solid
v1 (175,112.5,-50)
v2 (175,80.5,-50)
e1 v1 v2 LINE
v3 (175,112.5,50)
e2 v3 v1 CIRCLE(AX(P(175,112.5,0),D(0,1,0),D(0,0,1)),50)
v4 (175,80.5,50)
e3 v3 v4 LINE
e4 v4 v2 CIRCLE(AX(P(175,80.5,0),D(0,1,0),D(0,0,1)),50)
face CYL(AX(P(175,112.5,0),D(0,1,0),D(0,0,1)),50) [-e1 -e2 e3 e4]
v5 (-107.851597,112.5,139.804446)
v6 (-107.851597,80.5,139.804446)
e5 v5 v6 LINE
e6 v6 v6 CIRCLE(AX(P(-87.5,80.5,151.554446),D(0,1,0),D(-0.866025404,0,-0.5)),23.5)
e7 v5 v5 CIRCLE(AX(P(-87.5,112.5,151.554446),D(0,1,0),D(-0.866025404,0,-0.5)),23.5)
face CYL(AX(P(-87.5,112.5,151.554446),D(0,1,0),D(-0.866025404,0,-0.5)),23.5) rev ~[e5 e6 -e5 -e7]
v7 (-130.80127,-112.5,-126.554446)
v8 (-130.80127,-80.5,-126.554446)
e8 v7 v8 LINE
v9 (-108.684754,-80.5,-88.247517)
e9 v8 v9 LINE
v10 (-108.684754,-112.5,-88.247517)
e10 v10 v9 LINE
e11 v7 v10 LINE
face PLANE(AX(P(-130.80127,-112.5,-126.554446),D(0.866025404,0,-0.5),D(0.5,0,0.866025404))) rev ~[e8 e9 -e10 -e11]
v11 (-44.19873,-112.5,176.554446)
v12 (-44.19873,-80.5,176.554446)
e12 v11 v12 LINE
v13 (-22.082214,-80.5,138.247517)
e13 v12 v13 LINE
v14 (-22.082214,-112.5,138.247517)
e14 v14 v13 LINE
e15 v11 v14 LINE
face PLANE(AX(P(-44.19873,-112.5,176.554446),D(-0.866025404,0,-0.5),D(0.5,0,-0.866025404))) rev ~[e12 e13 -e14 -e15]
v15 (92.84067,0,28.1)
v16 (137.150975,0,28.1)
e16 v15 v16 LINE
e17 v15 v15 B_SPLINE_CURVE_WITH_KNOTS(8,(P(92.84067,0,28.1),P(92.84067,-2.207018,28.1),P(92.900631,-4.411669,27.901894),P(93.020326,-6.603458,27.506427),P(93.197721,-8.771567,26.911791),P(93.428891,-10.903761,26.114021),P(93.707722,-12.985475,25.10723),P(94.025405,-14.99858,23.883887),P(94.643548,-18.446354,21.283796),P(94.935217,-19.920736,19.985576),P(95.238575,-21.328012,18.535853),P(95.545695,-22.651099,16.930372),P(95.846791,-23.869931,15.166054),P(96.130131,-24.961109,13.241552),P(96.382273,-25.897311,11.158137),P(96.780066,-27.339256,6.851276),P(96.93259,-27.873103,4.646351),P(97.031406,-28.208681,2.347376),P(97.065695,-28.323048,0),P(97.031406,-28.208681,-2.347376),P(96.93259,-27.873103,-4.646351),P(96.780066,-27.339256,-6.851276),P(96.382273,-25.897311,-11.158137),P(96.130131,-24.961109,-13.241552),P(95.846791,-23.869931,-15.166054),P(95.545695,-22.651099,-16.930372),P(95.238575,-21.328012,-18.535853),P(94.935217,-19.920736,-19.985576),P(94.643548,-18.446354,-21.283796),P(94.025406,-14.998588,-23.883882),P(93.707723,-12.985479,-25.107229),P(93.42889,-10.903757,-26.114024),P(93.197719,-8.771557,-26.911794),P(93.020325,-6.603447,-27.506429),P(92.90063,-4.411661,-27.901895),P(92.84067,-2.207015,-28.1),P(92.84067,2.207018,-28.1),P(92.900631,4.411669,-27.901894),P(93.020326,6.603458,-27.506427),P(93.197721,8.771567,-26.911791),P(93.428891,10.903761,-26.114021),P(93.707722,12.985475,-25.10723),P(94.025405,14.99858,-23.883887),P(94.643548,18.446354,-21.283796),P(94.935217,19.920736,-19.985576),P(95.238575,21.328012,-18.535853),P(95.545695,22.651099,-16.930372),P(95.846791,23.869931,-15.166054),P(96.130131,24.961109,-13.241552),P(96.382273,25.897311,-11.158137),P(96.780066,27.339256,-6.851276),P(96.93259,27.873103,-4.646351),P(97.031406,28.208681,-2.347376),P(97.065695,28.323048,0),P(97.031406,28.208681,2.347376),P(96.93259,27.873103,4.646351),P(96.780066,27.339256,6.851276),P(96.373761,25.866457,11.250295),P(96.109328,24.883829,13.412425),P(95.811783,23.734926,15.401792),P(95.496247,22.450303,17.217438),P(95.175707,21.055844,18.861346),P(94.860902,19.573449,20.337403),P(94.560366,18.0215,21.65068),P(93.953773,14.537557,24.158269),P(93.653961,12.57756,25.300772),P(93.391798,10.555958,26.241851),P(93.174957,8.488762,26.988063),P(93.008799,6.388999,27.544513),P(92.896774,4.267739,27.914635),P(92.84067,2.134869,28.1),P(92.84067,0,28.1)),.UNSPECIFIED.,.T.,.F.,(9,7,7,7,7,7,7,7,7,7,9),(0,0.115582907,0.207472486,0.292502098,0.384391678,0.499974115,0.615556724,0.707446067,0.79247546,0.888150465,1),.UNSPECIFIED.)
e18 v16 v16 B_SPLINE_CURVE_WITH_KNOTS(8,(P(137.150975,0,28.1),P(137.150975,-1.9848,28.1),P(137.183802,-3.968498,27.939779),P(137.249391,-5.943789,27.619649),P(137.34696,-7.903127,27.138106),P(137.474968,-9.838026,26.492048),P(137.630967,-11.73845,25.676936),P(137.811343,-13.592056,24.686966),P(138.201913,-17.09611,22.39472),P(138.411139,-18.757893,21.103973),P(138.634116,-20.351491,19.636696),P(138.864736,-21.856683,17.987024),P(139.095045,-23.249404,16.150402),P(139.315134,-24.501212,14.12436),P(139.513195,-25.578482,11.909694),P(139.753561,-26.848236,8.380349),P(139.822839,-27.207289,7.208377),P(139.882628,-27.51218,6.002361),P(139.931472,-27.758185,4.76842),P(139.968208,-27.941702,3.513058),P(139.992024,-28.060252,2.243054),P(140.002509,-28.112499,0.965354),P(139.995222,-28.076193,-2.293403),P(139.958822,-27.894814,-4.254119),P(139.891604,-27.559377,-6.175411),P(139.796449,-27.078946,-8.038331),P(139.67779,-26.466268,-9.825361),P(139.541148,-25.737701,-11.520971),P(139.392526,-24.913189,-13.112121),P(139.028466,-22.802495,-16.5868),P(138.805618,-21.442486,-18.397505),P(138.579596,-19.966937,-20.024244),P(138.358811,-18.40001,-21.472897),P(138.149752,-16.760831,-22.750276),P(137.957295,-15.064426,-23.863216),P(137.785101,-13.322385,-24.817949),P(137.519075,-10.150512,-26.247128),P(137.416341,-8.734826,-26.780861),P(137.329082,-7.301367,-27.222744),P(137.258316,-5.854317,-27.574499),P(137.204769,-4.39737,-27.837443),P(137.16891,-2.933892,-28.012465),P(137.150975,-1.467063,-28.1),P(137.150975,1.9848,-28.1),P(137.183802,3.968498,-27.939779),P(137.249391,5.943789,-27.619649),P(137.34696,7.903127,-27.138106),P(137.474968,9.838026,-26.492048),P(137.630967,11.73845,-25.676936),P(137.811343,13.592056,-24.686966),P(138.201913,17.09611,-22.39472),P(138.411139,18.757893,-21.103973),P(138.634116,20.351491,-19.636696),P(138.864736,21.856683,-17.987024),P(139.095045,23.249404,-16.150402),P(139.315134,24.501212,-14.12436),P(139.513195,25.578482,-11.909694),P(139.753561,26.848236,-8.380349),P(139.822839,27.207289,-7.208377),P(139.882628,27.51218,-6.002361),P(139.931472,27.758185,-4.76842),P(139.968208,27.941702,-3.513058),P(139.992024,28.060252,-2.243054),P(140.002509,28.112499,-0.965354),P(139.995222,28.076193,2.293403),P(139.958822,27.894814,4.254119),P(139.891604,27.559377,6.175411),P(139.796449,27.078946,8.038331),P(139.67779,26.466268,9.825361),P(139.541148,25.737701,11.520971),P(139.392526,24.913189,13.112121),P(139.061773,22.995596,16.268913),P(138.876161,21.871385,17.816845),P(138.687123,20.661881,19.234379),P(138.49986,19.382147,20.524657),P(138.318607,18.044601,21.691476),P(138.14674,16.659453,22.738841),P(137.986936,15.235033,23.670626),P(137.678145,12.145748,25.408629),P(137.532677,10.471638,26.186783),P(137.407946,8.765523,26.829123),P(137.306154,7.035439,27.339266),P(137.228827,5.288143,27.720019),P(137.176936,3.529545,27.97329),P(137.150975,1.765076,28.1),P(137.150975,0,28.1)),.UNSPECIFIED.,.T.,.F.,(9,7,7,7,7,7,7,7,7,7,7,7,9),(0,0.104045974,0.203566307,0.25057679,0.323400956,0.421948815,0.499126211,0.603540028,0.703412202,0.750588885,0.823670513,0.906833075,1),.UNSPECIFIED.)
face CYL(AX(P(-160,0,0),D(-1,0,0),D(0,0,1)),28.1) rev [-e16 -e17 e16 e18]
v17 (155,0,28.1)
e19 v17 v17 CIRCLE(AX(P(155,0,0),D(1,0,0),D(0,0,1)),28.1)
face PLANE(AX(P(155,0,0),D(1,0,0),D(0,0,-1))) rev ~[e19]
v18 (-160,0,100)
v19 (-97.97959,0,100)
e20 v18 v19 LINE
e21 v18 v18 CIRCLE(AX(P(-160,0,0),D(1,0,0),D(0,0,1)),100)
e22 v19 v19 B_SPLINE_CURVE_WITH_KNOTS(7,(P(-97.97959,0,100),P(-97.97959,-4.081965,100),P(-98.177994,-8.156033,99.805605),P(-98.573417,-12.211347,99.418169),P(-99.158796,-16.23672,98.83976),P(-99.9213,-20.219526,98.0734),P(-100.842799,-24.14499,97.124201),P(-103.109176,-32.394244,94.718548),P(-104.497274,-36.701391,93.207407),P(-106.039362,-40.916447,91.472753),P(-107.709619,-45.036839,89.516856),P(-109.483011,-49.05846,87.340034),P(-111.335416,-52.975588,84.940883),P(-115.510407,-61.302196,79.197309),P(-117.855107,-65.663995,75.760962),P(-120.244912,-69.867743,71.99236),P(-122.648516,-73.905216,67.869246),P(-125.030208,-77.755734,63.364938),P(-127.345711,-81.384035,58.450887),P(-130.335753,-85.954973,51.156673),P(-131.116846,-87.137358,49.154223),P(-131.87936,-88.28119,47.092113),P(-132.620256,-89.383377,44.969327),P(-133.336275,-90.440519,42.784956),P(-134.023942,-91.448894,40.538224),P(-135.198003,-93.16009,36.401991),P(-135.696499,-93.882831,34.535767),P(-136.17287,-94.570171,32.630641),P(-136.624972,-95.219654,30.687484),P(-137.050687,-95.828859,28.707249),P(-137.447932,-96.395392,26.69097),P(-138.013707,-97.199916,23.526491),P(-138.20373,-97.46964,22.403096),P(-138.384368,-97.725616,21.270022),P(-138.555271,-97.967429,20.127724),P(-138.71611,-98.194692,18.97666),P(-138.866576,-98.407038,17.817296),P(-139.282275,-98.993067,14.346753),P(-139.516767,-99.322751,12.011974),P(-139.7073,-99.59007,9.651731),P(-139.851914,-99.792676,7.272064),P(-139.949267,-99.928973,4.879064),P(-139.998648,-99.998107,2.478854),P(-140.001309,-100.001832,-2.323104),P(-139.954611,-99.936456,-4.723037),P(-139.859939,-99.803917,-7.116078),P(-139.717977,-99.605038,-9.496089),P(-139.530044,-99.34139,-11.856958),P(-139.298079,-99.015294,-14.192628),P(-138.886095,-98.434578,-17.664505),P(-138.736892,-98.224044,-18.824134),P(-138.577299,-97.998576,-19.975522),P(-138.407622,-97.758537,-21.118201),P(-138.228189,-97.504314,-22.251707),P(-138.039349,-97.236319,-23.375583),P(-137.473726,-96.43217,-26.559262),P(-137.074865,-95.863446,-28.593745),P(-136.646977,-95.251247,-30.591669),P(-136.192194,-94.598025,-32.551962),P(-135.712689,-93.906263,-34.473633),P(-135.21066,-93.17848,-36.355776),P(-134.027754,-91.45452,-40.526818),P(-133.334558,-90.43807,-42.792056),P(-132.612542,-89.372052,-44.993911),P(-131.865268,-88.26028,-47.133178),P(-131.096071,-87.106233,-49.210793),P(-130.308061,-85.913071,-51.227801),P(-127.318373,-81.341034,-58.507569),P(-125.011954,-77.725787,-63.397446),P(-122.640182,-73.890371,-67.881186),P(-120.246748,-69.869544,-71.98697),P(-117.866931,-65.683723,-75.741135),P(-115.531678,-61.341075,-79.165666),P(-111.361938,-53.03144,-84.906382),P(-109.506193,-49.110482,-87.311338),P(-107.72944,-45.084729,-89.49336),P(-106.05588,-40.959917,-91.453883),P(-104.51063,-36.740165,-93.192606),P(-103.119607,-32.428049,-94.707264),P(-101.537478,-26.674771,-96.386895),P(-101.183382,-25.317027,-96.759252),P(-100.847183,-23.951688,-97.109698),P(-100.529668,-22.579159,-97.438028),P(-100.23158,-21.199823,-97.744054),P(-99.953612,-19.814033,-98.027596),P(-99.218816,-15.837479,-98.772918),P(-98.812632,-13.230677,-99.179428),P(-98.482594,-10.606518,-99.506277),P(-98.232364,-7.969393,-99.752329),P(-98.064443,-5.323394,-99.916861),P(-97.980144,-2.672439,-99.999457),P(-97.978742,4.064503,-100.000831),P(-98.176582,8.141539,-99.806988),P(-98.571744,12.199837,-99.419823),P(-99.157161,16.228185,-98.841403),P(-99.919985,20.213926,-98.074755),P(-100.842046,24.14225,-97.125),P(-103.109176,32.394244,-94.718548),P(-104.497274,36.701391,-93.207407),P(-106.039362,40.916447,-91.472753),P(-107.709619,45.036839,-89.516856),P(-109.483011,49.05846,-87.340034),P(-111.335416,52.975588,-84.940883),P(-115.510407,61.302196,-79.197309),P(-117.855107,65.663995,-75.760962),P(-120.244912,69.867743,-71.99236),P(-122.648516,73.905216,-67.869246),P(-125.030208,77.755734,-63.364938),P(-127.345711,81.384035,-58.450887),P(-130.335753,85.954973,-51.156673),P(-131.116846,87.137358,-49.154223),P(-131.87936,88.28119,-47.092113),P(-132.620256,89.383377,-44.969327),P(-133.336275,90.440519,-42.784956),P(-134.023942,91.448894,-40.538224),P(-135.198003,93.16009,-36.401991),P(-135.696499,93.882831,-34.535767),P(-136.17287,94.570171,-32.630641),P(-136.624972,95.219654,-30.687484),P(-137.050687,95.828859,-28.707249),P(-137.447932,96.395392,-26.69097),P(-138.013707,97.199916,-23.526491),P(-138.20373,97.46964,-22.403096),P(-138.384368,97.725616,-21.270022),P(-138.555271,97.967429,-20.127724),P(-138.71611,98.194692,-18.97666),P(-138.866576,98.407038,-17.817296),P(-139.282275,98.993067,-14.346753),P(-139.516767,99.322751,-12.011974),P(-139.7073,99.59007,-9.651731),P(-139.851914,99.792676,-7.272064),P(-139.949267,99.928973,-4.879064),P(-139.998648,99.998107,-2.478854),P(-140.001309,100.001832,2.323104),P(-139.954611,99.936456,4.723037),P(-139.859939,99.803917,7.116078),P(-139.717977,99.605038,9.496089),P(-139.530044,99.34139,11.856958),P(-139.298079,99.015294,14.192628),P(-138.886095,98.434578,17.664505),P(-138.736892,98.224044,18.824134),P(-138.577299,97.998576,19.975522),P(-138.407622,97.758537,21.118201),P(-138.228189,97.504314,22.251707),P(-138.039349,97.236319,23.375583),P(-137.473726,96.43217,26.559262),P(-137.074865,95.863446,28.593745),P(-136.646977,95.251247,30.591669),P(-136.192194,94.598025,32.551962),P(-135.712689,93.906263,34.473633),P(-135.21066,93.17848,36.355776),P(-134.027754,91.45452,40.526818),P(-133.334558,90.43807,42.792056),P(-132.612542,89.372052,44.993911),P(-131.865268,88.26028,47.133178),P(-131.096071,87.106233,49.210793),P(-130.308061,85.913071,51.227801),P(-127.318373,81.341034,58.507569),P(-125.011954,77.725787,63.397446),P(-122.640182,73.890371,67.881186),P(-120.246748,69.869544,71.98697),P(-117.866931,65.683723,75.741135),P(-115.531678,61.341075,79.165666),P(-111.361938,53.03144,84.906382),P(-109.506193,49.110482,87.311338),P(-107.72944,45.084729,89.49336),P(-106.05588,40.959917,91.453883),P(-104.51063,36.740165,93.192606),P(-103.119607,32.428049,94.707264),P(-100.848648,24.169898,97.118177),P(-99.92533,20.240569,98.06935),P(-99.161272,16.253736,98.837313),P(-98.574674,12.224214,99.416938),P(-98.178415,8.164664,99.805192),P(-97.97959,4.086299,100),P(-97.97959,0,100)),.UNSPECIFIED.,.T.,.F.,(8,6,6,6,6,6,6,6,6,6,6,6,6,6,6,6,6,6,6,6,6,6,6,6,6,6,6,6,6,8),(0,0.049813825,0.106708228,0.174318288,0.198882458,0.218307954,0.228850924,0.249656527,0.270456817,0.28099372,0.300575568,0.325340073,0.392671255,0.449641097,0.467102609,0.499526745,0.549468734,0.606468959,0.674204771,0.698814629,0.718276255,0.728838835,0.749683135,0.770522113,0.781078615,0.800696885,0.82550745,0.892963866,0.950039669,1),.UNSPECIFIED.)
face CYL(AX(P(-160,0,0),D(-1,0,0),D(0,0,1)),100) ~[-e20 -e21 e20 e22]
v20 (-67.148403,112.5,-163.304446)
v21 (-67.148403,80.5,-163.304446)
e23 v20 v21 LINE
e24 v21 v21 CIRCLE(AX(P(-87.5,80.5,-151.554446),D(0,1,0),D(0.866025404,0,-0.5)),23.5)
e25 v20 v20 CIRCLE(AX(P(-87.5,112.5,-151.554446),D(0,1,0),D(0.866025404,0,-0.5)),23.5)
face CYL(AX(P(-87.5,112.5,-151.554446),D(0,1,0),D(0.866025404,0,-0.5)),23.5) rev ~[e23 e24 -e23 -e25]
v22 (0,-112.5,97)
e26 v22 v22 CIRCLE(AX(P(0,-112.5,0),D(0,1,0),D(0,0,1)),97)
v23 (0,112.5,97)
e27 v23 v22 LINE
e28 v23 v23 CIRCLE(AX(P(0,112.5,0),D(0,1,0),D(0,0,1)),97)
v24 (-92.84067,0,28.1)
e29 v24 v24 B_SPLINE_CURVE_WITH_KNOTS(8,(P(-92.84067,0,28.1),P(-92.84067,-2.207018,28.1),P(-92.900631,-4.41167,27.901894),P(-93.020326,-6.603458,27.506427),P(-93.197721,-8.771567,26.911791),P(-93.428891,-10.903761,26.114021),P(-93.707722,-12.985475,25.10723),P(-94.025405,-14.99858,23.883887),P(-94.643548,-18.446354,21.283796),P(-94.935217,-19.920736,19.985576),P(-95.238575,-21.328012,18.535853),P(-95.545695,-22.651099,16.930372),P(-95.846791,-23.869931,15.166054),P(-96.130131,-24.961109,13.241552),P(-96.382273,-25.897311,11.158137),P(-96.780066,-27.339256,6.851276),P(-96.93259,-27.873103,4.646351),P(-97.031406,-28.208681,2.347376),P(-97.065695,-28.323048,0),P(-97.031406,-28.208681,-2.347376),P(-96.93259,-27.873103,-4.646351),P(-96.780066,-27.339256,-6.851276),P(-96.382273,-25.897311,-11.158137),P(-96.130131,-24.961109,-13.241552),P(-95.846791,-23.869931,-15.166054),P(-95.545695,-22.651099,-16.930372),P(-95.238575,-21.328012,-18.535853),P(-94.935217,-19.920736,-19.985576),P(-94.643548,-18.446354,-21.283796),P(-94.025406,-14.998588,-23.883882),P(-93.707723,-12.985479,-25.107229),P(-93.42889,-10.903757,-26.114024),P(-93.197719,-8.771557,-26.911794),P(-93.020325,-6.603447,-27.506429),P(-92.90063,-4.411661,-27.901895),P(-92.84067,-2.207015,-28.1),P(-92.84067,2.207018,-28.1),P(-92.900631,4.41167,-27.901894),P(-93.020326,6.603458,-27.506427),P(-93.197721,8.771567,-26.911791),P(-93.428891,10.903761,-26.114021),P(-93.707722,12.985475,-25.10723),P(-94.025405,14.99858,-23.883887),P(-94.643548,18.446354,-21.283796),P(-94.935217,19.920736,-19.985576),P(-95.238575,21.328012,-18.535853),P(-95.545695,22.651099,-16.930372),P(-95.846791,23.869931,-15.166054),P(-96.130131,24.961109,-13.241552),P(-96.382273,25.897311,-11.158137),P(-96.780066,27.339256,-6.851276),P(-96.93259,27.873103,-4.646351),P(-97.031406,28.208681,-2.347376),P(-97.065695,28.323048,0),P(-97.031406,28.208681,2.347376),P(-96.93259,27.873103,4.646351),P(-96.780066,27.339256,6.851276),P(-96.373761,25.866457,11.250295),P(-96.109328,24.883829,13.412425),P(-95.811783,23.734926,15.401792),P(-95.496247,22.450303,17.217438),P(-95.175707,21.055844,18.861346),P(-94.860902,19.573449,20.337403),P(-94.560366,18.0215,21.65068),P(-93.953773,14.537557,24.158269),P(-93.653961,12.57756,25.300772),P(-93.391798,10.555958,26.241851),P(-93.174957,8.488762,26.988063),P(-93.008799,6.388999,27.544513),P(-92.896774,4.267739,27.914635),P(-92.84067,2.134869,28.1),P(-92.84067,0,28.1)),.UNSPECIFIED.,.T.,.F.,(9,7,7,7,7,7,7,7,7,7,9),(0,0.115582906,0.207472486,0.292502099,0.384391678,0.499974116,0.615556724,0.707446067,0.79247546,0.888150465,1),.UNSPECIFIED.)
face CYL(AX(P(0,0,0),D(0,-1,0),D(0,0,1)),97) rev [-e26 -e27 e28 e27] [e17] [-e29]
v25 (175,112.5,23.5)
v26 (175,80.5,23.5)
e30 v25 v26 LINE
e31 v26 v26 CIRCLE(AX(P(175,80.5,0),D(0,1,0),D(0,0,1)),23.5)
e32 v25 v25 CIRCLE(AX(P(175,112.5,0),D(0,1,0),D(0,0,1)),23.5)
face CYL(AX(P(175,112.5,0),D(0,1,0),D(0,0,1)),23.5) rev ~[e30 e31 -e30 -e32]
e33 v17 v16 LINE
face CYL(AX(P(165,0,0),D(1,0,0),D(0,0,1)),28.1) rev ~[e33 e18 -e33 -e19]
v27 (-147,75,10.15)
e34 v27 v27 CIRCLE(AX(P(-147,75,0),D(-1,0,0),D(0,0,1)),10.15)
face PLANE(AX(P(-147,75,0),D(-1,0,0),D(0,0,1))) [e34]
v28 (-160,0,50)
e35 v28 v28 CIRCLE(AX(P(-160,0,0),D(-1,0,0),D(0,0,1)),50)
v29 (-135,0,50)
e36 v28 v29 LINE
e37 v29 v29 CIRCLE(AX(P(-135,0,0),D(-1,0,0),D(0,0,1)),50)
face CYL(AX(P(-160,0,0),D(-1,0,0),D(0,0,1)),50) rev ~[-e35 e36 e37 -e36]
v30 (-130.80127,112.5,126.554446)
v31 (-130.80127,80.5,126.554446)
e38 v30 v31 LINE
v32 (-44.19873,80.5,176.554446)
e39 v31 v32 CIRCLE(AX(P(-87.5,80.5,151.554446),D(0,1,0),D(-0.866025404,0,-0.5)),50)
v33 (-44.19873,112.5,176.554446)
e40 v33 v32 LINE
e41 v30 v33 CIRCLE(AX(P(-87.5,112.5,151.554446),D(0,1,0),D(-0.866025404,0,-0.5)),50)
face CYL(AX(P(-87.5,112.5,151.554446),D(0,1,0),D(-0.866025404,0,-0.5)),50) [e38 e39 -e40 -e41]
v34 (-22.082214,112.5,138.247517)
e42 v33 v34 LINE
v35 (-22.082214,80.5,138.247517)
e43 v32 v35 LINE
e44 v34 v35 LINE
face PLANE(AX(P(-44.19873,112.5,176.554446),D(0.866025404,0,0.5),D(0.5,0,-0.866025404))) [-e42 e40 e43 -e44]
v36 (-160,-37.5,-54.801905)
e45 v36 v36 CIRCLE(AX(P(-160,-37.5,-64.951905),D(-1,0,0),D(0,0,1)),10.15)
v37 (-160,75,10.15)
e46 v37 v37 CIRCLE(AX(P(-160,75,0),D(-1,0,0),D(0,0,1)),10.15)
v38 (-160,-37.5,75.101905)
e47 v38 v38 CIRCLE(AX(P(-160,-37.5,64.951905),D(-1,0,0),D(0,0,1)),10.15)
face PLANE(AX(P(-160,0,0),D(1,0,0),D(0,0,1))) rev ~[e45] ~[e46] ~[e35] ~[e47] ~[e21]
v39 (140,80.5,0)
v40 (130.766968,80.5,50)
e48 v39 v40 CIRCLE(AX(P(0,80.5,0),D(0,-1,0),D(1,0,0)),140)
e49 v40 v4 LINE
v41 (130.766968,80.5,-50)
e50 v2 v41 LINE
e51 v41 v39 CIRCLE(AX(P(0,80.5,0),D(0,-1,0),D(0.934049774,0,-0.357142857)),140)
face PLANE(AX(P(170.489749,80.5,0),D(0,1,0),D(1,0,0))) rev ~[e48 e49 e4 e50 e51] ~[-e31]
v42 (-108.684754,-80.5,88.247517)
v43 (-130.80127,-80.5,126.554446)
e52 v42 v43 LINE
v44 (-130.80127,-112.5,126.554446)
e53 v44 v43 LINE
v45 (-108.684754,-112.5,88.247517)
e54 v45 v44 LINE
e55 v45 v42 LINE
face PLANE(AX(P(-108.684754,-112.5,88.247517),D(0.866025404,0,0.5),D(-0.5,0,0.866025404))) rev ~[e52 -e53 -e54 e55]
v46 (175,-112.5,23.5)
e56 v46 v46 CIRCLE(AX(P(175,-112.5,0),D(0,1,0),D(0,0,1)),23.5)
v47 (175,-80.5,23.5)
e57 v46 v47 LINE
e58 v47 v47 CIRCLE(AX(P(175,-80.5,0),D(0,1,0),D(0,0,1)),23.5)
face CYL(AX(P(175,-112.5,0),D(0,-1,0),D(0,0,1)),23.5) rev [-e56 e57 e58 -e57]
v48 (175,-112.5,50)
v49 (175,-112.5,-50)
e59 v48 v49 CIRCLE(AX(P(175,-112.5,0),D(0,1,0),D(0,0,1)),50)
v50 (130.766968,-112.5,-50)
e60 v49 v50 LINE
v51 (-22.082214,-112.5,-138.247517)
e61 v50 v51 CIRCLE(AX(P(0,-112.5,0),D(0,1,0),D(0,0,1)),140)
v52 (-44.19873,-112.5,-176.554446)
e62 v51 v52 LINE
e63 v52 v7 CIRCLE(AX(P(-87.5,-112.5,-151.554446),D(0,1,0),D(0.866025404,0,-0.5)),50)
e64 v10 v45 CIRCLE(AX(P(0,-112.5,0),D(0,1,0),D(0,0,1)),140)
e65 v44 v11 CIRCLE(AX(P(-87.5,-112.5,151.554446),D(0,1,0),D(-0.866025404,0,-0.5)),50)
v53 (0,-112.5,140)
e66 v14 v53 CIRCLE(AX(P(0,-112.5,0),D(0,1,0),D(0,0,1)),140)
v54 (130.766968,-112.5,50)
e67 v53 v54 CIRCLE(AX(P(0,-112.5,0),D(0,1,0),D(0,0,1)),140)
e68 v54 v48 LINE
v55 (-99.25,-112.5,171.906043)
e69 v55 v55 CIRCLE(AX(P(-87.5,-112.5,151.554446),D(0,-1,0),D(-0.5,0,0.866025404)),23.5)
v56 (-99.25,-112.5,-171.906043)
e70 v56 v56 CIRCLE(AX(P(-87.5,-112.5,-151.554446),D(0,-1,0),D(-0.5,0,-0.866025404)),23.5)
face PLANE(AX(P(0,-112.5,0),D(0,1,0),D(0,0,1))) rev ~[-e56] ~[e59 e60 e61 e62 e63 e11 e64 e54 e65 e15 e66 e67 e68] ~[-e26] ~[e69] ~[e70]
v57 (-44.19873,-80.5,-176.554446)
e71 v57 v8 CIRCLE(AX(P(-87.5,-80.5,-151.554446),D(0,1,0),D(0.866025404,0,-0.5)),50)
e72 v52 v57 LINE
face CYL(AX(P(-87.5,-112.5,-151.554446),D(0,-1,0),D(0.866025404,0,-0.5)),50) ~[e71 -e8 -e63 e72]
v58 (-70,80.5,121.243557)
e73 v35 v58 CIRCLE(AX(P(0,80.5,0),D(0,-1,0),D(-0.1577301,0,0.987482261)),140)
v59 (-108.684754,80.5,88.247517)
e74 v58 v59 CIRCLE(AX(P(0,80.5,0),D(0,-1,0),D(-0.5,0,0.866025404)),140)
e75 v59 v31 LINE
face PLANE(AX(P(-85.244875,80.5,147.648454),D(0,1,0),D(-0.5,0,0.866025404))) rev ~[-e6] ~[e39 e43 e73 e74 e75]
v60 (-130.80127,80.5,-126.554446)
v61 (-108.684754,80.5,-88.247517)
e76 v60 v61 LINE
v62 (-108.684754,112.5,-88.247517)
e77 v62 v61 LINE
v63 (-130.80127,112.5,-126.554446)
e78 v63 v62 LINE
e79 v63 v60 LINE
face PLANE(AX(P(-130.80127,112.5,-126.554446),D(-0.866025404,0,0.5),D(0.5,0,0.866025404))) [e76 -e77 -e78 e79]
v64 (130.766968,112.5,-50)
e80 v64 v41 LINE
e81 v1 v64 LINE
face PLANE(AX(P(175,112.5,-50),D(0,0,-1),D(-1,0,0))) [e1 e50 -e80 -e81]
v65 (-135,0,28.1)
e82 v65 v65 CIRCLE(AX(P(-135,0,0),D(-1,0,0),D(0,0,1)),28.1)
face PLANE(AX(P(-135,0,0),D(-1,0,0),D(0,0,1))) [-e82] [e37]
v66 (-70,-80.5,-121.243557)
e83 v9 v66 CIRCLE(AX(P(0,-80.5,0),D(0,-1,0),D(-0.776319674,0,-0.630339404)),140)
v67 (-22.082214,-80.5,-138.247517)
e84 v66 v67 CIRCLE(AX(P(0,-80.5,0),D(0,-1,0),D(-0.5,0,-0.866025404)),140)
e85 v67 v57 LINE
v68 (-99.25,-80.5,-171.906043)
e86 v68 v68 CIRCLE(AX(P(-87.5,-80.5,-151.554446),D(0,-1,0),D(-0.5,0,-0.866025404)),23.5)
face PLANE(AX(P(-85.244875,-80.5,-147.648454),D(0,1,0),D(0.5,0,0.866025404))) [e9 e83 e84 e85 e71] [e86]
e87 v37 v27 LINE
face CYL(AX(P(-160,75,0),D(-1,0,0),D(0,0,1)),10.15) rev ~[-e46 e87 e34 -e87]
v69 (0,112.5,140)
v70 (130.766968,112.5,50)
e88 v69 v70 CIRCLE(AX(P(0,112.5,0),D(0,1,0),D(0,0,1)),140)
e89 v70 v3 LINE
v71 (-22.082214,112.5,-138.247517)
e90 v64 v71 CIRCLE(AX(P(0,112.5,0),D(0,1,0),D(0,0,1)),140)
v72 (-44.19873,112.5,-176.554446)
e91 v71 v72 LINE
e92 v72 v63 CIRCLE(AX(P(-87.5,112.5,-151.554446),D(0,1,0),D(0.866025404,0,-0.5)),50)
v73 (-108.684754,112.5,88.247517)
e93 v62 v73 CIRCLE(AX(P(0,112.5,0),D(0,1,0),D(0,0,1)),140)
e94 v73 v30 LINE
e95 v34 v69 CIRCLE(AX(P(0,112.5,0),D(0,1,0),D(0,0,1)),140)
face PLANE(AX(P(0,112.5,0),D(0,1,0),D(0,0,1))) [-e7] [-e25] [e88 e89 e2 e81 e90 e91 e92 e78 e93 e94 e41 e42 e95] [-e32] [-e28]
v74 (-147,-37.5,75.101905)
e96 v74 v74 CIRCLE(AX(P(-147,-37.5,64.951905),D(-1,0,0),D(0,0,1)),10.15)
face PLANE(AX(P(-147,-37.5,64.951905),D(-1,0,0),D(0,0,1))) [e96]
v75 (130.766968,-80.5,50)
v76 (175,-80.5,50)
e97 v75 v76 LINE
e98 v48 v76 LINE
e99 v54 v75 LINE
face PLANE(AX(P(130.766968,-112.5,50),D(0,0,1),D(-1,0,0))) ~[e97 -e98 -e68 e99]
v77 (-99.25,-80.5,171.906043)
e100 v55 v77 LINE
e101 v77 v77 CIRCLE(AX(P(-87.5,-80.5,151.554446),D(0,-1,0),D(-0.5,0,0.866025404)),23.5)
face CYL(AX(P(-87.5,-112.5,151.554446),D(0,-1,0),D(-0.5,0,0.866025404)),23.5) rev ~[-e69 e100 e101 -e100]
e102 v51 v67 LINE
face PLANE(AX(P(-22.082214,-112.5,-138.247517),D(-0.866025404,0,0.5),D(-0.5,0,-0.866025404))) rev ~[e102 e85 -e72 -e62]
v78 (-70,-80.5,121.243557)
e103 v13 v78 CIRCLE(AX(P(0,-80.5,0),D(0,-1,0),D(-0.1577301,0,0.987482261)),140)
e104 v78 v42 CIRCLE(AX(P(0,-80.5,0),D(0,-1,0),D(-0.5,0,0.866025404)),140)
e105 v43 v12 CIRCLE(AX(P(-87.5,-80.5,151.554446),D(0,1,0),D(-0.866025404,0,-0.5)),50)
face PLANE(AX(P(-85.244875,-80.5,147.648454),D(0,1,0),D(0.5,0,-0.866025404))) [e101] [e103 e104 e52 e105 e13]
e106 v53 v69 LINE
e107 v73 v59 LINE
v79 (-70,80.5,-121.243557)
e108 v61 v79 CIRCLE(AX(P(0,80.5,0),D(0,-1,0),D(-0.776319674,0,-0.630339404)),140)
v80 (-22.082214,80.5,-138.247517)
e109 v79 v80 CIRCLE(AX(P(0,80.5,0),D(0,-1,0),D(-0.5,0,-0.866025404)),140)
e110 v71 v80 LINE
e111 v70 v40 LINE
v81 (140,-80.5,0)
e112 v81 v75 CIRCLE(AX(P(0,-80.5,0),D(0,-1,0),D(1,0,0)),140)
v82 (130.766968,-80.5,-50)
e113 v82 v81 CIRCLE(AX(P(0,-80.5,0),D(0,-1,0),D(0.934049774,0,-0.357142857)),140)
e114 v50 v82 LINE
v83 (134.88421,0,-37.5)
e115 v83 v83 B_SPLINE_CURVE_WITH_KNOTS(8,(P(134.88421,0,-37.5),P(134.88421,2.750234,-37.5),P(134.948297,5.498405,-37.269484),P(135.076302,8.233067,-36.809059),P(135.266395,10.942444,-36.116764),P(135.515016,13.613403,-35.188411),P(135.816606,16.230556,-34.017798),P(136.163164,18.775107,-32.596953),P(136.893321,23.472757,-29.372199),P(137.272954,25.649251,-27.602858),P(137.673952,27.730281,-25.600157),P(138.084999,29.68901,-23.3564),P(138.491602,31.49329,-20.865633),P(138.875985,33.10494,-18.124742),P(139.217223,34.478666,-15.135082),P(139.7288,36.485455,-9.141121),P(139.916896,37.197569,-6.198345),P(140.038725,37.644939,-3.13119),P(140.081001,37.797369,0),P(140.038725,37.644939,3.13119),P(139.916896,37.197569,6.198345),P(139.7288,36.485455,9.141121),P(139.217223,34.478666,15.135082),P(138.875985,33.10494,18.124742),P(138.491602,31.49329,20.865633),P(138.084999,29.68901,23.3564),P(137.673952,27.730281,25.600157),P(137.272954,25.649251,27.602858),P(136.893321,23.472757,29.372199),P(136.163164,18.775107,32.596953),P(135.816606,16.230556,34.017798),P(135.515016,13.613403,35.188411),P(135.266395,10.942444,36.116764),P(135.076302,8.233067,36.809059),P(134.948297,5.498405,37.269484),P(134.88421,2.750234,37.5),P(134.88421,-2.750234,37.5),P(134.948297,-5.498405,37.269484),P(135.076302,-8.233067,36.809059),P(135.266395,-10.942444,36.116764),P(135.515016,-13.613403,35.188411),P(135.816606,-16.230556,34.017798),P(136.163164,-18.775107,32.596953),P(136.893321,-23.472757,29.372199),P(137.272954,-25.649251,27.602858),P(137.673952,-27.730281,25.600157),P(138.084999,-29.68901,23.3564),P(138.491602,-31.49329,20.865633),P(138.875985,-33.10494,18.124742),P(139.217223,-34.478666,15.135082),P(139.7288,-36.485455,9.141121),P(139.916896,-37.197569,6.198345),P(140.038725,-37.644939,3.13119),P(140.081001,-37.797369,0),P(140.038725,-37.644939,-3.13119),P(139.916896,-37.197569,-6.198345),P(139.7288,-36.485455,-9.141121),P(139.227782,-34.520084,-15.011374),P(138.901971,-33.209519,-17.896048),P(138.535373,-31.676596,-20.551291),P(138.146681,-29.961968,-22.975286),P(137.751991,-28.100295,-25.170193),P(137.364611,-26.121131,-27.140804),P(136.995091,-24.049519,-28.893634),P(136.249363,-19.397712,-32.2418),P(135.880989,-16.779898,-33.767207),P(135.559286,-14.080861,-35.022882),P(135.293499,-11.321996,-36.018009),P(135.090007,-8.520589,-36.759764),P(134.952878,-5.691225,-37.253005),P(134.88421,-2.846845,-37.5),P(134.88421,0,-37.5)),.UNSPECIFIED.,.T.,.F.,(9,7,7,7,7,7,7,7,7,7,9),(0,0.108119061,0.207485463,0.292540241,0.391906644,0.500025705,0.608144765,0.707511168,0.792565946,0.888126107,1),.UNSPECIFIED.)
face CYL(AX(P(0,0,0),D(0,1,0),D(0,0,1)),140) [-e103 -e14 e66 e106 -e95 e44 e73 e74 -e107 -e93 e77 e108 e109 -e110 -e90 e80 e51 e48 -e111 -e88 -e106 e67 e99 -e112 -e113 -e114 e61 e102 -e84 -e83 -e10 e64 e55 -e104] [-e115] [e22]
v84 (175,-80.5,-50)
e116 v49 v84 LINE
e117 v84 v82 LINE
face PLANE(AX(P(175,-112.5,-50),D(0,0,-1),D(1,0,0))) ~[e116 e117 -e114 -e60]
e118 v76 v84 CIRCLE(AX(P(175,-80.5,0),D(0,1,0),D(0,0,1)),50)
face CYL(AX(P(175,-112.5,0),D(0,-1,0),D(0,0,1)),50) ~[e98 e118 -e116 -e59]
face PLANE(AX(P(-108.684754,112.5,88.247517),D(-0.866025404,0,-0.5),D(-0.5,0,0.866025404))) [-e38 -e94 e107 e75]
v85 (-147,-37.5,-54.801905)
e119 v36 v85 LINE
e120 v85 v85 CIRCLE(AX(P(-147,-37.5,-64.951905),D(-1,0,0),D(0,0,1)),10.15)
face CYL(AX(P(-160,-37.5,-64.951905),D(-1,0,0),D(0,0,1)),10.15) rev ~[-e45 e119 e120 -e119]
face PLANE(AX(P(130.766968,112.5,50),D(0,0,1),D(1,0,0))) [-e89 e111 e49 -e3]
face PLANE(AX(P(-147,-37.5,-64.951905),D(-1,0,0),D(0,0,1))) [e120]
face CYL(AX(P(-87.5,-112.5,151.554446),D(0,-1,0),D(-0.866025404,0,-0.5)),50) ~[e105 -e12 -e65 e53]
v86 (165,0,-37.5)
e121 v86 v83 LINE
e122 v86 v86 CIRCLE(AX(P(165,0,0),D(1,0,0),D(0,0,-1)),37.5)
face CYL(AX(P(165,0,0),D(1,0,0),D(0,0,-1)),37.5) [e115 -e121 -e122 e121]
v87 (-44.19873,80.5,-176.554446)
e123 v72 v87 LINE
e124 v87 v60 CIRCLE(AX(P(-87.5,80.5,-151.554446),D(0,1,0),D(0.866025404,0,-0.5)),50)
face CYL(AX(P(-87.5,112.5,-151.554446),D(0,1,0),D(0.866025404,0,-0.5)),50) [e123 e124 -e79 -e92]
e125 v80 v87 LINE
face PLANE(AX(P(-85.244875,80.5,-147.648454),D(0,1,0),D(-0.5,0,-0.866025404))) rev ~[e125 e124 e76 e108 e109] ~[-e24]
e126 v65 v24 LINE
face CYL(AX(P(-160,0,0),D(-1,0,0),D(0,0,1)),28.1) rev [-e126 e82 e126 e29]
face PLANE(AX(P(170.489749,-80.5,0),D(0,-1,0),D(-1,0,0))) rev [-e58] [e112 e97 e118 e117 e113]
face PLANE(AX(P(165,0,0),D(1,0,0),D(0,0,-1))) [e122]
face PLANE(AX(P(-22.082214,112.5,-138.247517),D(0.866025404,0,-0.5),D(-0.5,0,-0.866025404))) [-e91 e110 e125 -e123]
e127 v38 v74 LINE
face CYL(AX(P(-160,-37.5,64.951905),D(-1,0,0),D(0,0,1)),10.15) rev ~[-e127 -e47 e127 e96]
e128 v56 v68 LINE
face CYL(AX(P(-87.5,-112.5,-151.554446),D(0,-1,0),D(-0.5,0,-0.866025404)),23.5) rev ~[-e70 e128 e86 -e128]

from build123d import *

# Parameters (mm, degrees)
SKETCH1_R                = 140
SKETCH1_R_2              = 97
BOSS_EXTRUDE1_DEPTH      = 112.5
SKETCH2_R                = 23.5
BOSS_EXTRUDE2_DEPTH      = 32
CIRPATTERN1_COUNT        = 3
MIRROR1_COPY_1_SKETCH_R  = 23.5
MIRROR1_COPY_1_DEPTH     = 32
MIRROR1_COPY_2_SKETCH_R  = 23.5
MIRROR1_COPY_2_DEPTH     = 32
SKETCH3_R                = 28.1
CUT_EXTRUDE1_DEPTH       = 310
BOSS_EXTRUDE3_REACH      = 450.894
BOSS_EXTRUDE3_END_RADIUS = 140
SKETCH4_R                = 100
SKETCH5_R                = 50
CUT_EXTRUDE2_DEPTH       = 25
SKETCH6_R                = 10.15
CUT_EXTRUDE3_DEPTH       = 13
BOSS_EXTRUDE4_REACH      = 400.629
BOSS_EXTRUDE4_END_RADIUS = 140
SKETCH7_R                = 37.5
SKETCH7_R_2              = 28.1
SKETCH8_R                = 37.5
BOSS_EXTRUDE5_DEPTH      = 10


with BuildPart() as part:
    # Sketch1 → Boss-Extrude1 (new, symmetric)
    with BuildSketch(Plane(origin=(0, 0, 0), x_dir=(1, 0, 0), z_dir=(0, 1, 0))):
        with Locations(Location((0, 0, 0), (0, 0, 270))):
            Circle(SKETCH1_R)
        with Locations(Location((0, 0, 0), (0, 0, 270))):
            Circle(SKETCH1_R_2, mode=Mode.SUBTRACT)
    extrude(amount=BOSS_EXTRUDE1_DEPTH, both=True)

    # Sketch2 → Boss-Extrude2 (add)
    with BuildSketch(Plane(origin=(0, 112.5, 0), x_dir=(1, 0, 0), z_dir=(0, 1, 0))):
        with BuildLine():
            ThreePointArc((175, -50), (225, 0), (175, 50))
            Line((175, 50), (130.766968306, 50))
            ThreePointArc((130.766968306, 50), (137.672392953, 25.42267135), (140, 0))
            ThreePointArc((140, 0), (137.672392953, -25.42267135), (130.766968306, -50))
            Line((130.766968306, -50), (175, -50))
        make_face()
        with Locations(Location((175, 0, 0), (0, 0, 270))):
            Circle(SKETCH2_R, mode=Mode.SUBTRACT)
    boss_extrude2 = extrude(amount=-BOSS_EXTRUDE2_DEPTH)

    # CirPattern1: Boss-Extrude2 ×3 about axis
    cirpattern1_axis = Axis((0, 0, 0), (0, 1, 0))
    for i in range(1, CIRPATTERN1_COUNT):
        add(boss_extrude2.rotate(cirpattern1_axis, i * 360 / CIRPATTERN1_COUNT))

    # Mirror1: Boss-Extrude2 across plane
    add(boss_extrude2.mirror(Plane.ZX))

    # Mirror1 copy 1 sketch → Mirror1 copy 1 (add)
    with BuildSketch(Plane(origin=(0, -112.5, 0), x_dir=(-0.4999999999999998, 0, -0.8660254037844387), z_dir=(0, -1, 0))):
        with BuildLine():
            ThreePointArc((175, 50), (225, 0), (175, -50))
            Line((175, -50), (130.766968306, -50))
            ThreePointArc((130.766968306, -50), (137.672392953, -25.42267135), (140, 0))
            ThreePointArc((140, 0), (137.672392953, 25.42267135), (130.766968306, 50))
            Line((130.766968306, 50), (175, 50))
        make_face()
        with Locations((175, 0)):
            Circle(MIRROR1_COPY_1_SKETCH_R, mode=Mode.SUBTRACT)
    extrude(amount=-MIRROR1_COPY_1_DEPTH)

    # Mirror1 copy 2 sketch → Mirror1 copy 2 (add)
    with BuildSketch(Plane(origin=(0, -112.5, 0), x_dir=(-0.5000000000000004, 0, 0.8660254037844384), z_dir=(0, -1, 0))):
        with BuildLine():
            ThreePointArc((175, 50), (225, 0), (175, -50))
            Line((175, -50), (130.766968306, -50))
            ThreePointArc((130.766968306, -50), (137.672392953, -25.42267135), (140, 0))
            ThreePointArc((140, 0), (137.672392953, 25.42267135), (130.766968306, 50))
            Line((130.766968306, 50), (175, 50))
        make_face()
        with Locations((175, 0)):
            Circle(MIRROR1_COPY_2_SKETCH_R, mode=Mode.SUBTRACT)
    extrude(amount=-MIRROR1_COPY_2_DEPTH)

    # Sketch3 → Cut-Extrude1 (cut)
    with BuildSketch(Plane(origin=(-160, 0, 0), x_dir=(0, 0, -1), z_dir=(1, 0, 0))):
        with Locations(Location((0, 0, 0), (0, 0, 180))):
            Circle(SKETCH3_R)
    extrude(amount=CUT_EXTRUDE1_DEPTH, mode=Mode.SUBTRACT)

    # Boss-Extrude3: up to this cylinder (the profile starts outside it)
    boss_extrude3_end = Plane(origin=(0, 0, 0), z_dir=(0, -1, 0)) * Cylinder(BOSS_EXTRUDE3_END_RADIUS, 1182.788, mode=Mode.PRIVATE)
    # Sketch4 → Boss-Extrude3 (add, up to the surface)
    with BuildSketch(Plane(origin=(-160, 0, 0), x_dir=(0, 0, -1), z_dir=(1, 0, 0)), mode=Mode.PRIVATE) as boss_extrude3_sk1:
        with Locations(Location((0, 0, 0), (0, 0, 180))):
            Circle(SKETCH4_R)
    boss_extrude3_tool1 = extrude(boss_extrude3_sk1.sketch, amount=BOSS_EXTRUDE3_REACH, mode=Mode.PRIVATE) - boss_extrude3_end
    add(boss_extrude3_tool1.solids().sort_by_distance((-160, 0, 0))[0])

    # Sketch5 → Cut-Extrude2 (cut)
    with BuildSketch(Plane.ZY.offset(160)):
        Circle(SKETCH5_R)
    extrude(amount=-CUT_EXTRUDE2_DEPTH, mode=Mode.SUBTRACT)

    # Sketch6 → Cut-Extrude3 (cut)
    with BuildSketch(Plane.ZY.offset(160)):
        with Locations((0, 75)):
            Circle(SKETCH6_R)
        with Locations((64.951905284, -37.5)):
            Circle(SKETCH6_R)
        with Locations((-64.951905284, -37.5)):
            Circle(SKETCH6_R)
    extrude(amount=-CUT_EXTRUDE3_DEPTH, mode=Mode.SUBTRACT)

    # Boss-Extrude4: up to this cylinder (the profile starts outside it)
    boss_extrude4_end = Plane(origin=(0, 0, 0), z_dir=(0, -1, 0)) * Cylinder(BOSS_EXTRUDE4_END_RADIUS, 1082.258, mode=Mode.PRIVATE)
    # Sketch7 → Boss-Extrude4 (add, up to the surface)
    with BuildSketch(Plane(origin=(165, 0, 0), x_dir=(0, 0, -1), z_dir=(1, 0, 0)), mode=Mode.PRIVATE) as boss_extrude4_sk1:
        Circle(SKETCH7_R)
        with Locations(Location((0, 0, 0), (0, 0, 180))):
            Circle(SKETCH7_R_2, mode=Mode.SUBTRACT)
    boss_extrude4_tool1 = extrude(boss_extrude4_sk1.sketch, amount=-BOSS_EXTRUDE4_REACH, mode=Mode.PRIVATE) - boss_extrude4_end
    add(boss_extrude4_tool1.solids().sort_by_distance((165, 0, 36.43934))[0])

    # Sketch8 → Boss-Extrude5 (add)
    with BuildSketch(Plane(origin=(165, 0, 0), x_dir=(0, 0, -1), z_dir=(1, 0, 0))):
        Circle(SKETCH8_R)
    extrude(amount=-BOSS_EXTRUDE5_DEPTH)


solid = part.part
